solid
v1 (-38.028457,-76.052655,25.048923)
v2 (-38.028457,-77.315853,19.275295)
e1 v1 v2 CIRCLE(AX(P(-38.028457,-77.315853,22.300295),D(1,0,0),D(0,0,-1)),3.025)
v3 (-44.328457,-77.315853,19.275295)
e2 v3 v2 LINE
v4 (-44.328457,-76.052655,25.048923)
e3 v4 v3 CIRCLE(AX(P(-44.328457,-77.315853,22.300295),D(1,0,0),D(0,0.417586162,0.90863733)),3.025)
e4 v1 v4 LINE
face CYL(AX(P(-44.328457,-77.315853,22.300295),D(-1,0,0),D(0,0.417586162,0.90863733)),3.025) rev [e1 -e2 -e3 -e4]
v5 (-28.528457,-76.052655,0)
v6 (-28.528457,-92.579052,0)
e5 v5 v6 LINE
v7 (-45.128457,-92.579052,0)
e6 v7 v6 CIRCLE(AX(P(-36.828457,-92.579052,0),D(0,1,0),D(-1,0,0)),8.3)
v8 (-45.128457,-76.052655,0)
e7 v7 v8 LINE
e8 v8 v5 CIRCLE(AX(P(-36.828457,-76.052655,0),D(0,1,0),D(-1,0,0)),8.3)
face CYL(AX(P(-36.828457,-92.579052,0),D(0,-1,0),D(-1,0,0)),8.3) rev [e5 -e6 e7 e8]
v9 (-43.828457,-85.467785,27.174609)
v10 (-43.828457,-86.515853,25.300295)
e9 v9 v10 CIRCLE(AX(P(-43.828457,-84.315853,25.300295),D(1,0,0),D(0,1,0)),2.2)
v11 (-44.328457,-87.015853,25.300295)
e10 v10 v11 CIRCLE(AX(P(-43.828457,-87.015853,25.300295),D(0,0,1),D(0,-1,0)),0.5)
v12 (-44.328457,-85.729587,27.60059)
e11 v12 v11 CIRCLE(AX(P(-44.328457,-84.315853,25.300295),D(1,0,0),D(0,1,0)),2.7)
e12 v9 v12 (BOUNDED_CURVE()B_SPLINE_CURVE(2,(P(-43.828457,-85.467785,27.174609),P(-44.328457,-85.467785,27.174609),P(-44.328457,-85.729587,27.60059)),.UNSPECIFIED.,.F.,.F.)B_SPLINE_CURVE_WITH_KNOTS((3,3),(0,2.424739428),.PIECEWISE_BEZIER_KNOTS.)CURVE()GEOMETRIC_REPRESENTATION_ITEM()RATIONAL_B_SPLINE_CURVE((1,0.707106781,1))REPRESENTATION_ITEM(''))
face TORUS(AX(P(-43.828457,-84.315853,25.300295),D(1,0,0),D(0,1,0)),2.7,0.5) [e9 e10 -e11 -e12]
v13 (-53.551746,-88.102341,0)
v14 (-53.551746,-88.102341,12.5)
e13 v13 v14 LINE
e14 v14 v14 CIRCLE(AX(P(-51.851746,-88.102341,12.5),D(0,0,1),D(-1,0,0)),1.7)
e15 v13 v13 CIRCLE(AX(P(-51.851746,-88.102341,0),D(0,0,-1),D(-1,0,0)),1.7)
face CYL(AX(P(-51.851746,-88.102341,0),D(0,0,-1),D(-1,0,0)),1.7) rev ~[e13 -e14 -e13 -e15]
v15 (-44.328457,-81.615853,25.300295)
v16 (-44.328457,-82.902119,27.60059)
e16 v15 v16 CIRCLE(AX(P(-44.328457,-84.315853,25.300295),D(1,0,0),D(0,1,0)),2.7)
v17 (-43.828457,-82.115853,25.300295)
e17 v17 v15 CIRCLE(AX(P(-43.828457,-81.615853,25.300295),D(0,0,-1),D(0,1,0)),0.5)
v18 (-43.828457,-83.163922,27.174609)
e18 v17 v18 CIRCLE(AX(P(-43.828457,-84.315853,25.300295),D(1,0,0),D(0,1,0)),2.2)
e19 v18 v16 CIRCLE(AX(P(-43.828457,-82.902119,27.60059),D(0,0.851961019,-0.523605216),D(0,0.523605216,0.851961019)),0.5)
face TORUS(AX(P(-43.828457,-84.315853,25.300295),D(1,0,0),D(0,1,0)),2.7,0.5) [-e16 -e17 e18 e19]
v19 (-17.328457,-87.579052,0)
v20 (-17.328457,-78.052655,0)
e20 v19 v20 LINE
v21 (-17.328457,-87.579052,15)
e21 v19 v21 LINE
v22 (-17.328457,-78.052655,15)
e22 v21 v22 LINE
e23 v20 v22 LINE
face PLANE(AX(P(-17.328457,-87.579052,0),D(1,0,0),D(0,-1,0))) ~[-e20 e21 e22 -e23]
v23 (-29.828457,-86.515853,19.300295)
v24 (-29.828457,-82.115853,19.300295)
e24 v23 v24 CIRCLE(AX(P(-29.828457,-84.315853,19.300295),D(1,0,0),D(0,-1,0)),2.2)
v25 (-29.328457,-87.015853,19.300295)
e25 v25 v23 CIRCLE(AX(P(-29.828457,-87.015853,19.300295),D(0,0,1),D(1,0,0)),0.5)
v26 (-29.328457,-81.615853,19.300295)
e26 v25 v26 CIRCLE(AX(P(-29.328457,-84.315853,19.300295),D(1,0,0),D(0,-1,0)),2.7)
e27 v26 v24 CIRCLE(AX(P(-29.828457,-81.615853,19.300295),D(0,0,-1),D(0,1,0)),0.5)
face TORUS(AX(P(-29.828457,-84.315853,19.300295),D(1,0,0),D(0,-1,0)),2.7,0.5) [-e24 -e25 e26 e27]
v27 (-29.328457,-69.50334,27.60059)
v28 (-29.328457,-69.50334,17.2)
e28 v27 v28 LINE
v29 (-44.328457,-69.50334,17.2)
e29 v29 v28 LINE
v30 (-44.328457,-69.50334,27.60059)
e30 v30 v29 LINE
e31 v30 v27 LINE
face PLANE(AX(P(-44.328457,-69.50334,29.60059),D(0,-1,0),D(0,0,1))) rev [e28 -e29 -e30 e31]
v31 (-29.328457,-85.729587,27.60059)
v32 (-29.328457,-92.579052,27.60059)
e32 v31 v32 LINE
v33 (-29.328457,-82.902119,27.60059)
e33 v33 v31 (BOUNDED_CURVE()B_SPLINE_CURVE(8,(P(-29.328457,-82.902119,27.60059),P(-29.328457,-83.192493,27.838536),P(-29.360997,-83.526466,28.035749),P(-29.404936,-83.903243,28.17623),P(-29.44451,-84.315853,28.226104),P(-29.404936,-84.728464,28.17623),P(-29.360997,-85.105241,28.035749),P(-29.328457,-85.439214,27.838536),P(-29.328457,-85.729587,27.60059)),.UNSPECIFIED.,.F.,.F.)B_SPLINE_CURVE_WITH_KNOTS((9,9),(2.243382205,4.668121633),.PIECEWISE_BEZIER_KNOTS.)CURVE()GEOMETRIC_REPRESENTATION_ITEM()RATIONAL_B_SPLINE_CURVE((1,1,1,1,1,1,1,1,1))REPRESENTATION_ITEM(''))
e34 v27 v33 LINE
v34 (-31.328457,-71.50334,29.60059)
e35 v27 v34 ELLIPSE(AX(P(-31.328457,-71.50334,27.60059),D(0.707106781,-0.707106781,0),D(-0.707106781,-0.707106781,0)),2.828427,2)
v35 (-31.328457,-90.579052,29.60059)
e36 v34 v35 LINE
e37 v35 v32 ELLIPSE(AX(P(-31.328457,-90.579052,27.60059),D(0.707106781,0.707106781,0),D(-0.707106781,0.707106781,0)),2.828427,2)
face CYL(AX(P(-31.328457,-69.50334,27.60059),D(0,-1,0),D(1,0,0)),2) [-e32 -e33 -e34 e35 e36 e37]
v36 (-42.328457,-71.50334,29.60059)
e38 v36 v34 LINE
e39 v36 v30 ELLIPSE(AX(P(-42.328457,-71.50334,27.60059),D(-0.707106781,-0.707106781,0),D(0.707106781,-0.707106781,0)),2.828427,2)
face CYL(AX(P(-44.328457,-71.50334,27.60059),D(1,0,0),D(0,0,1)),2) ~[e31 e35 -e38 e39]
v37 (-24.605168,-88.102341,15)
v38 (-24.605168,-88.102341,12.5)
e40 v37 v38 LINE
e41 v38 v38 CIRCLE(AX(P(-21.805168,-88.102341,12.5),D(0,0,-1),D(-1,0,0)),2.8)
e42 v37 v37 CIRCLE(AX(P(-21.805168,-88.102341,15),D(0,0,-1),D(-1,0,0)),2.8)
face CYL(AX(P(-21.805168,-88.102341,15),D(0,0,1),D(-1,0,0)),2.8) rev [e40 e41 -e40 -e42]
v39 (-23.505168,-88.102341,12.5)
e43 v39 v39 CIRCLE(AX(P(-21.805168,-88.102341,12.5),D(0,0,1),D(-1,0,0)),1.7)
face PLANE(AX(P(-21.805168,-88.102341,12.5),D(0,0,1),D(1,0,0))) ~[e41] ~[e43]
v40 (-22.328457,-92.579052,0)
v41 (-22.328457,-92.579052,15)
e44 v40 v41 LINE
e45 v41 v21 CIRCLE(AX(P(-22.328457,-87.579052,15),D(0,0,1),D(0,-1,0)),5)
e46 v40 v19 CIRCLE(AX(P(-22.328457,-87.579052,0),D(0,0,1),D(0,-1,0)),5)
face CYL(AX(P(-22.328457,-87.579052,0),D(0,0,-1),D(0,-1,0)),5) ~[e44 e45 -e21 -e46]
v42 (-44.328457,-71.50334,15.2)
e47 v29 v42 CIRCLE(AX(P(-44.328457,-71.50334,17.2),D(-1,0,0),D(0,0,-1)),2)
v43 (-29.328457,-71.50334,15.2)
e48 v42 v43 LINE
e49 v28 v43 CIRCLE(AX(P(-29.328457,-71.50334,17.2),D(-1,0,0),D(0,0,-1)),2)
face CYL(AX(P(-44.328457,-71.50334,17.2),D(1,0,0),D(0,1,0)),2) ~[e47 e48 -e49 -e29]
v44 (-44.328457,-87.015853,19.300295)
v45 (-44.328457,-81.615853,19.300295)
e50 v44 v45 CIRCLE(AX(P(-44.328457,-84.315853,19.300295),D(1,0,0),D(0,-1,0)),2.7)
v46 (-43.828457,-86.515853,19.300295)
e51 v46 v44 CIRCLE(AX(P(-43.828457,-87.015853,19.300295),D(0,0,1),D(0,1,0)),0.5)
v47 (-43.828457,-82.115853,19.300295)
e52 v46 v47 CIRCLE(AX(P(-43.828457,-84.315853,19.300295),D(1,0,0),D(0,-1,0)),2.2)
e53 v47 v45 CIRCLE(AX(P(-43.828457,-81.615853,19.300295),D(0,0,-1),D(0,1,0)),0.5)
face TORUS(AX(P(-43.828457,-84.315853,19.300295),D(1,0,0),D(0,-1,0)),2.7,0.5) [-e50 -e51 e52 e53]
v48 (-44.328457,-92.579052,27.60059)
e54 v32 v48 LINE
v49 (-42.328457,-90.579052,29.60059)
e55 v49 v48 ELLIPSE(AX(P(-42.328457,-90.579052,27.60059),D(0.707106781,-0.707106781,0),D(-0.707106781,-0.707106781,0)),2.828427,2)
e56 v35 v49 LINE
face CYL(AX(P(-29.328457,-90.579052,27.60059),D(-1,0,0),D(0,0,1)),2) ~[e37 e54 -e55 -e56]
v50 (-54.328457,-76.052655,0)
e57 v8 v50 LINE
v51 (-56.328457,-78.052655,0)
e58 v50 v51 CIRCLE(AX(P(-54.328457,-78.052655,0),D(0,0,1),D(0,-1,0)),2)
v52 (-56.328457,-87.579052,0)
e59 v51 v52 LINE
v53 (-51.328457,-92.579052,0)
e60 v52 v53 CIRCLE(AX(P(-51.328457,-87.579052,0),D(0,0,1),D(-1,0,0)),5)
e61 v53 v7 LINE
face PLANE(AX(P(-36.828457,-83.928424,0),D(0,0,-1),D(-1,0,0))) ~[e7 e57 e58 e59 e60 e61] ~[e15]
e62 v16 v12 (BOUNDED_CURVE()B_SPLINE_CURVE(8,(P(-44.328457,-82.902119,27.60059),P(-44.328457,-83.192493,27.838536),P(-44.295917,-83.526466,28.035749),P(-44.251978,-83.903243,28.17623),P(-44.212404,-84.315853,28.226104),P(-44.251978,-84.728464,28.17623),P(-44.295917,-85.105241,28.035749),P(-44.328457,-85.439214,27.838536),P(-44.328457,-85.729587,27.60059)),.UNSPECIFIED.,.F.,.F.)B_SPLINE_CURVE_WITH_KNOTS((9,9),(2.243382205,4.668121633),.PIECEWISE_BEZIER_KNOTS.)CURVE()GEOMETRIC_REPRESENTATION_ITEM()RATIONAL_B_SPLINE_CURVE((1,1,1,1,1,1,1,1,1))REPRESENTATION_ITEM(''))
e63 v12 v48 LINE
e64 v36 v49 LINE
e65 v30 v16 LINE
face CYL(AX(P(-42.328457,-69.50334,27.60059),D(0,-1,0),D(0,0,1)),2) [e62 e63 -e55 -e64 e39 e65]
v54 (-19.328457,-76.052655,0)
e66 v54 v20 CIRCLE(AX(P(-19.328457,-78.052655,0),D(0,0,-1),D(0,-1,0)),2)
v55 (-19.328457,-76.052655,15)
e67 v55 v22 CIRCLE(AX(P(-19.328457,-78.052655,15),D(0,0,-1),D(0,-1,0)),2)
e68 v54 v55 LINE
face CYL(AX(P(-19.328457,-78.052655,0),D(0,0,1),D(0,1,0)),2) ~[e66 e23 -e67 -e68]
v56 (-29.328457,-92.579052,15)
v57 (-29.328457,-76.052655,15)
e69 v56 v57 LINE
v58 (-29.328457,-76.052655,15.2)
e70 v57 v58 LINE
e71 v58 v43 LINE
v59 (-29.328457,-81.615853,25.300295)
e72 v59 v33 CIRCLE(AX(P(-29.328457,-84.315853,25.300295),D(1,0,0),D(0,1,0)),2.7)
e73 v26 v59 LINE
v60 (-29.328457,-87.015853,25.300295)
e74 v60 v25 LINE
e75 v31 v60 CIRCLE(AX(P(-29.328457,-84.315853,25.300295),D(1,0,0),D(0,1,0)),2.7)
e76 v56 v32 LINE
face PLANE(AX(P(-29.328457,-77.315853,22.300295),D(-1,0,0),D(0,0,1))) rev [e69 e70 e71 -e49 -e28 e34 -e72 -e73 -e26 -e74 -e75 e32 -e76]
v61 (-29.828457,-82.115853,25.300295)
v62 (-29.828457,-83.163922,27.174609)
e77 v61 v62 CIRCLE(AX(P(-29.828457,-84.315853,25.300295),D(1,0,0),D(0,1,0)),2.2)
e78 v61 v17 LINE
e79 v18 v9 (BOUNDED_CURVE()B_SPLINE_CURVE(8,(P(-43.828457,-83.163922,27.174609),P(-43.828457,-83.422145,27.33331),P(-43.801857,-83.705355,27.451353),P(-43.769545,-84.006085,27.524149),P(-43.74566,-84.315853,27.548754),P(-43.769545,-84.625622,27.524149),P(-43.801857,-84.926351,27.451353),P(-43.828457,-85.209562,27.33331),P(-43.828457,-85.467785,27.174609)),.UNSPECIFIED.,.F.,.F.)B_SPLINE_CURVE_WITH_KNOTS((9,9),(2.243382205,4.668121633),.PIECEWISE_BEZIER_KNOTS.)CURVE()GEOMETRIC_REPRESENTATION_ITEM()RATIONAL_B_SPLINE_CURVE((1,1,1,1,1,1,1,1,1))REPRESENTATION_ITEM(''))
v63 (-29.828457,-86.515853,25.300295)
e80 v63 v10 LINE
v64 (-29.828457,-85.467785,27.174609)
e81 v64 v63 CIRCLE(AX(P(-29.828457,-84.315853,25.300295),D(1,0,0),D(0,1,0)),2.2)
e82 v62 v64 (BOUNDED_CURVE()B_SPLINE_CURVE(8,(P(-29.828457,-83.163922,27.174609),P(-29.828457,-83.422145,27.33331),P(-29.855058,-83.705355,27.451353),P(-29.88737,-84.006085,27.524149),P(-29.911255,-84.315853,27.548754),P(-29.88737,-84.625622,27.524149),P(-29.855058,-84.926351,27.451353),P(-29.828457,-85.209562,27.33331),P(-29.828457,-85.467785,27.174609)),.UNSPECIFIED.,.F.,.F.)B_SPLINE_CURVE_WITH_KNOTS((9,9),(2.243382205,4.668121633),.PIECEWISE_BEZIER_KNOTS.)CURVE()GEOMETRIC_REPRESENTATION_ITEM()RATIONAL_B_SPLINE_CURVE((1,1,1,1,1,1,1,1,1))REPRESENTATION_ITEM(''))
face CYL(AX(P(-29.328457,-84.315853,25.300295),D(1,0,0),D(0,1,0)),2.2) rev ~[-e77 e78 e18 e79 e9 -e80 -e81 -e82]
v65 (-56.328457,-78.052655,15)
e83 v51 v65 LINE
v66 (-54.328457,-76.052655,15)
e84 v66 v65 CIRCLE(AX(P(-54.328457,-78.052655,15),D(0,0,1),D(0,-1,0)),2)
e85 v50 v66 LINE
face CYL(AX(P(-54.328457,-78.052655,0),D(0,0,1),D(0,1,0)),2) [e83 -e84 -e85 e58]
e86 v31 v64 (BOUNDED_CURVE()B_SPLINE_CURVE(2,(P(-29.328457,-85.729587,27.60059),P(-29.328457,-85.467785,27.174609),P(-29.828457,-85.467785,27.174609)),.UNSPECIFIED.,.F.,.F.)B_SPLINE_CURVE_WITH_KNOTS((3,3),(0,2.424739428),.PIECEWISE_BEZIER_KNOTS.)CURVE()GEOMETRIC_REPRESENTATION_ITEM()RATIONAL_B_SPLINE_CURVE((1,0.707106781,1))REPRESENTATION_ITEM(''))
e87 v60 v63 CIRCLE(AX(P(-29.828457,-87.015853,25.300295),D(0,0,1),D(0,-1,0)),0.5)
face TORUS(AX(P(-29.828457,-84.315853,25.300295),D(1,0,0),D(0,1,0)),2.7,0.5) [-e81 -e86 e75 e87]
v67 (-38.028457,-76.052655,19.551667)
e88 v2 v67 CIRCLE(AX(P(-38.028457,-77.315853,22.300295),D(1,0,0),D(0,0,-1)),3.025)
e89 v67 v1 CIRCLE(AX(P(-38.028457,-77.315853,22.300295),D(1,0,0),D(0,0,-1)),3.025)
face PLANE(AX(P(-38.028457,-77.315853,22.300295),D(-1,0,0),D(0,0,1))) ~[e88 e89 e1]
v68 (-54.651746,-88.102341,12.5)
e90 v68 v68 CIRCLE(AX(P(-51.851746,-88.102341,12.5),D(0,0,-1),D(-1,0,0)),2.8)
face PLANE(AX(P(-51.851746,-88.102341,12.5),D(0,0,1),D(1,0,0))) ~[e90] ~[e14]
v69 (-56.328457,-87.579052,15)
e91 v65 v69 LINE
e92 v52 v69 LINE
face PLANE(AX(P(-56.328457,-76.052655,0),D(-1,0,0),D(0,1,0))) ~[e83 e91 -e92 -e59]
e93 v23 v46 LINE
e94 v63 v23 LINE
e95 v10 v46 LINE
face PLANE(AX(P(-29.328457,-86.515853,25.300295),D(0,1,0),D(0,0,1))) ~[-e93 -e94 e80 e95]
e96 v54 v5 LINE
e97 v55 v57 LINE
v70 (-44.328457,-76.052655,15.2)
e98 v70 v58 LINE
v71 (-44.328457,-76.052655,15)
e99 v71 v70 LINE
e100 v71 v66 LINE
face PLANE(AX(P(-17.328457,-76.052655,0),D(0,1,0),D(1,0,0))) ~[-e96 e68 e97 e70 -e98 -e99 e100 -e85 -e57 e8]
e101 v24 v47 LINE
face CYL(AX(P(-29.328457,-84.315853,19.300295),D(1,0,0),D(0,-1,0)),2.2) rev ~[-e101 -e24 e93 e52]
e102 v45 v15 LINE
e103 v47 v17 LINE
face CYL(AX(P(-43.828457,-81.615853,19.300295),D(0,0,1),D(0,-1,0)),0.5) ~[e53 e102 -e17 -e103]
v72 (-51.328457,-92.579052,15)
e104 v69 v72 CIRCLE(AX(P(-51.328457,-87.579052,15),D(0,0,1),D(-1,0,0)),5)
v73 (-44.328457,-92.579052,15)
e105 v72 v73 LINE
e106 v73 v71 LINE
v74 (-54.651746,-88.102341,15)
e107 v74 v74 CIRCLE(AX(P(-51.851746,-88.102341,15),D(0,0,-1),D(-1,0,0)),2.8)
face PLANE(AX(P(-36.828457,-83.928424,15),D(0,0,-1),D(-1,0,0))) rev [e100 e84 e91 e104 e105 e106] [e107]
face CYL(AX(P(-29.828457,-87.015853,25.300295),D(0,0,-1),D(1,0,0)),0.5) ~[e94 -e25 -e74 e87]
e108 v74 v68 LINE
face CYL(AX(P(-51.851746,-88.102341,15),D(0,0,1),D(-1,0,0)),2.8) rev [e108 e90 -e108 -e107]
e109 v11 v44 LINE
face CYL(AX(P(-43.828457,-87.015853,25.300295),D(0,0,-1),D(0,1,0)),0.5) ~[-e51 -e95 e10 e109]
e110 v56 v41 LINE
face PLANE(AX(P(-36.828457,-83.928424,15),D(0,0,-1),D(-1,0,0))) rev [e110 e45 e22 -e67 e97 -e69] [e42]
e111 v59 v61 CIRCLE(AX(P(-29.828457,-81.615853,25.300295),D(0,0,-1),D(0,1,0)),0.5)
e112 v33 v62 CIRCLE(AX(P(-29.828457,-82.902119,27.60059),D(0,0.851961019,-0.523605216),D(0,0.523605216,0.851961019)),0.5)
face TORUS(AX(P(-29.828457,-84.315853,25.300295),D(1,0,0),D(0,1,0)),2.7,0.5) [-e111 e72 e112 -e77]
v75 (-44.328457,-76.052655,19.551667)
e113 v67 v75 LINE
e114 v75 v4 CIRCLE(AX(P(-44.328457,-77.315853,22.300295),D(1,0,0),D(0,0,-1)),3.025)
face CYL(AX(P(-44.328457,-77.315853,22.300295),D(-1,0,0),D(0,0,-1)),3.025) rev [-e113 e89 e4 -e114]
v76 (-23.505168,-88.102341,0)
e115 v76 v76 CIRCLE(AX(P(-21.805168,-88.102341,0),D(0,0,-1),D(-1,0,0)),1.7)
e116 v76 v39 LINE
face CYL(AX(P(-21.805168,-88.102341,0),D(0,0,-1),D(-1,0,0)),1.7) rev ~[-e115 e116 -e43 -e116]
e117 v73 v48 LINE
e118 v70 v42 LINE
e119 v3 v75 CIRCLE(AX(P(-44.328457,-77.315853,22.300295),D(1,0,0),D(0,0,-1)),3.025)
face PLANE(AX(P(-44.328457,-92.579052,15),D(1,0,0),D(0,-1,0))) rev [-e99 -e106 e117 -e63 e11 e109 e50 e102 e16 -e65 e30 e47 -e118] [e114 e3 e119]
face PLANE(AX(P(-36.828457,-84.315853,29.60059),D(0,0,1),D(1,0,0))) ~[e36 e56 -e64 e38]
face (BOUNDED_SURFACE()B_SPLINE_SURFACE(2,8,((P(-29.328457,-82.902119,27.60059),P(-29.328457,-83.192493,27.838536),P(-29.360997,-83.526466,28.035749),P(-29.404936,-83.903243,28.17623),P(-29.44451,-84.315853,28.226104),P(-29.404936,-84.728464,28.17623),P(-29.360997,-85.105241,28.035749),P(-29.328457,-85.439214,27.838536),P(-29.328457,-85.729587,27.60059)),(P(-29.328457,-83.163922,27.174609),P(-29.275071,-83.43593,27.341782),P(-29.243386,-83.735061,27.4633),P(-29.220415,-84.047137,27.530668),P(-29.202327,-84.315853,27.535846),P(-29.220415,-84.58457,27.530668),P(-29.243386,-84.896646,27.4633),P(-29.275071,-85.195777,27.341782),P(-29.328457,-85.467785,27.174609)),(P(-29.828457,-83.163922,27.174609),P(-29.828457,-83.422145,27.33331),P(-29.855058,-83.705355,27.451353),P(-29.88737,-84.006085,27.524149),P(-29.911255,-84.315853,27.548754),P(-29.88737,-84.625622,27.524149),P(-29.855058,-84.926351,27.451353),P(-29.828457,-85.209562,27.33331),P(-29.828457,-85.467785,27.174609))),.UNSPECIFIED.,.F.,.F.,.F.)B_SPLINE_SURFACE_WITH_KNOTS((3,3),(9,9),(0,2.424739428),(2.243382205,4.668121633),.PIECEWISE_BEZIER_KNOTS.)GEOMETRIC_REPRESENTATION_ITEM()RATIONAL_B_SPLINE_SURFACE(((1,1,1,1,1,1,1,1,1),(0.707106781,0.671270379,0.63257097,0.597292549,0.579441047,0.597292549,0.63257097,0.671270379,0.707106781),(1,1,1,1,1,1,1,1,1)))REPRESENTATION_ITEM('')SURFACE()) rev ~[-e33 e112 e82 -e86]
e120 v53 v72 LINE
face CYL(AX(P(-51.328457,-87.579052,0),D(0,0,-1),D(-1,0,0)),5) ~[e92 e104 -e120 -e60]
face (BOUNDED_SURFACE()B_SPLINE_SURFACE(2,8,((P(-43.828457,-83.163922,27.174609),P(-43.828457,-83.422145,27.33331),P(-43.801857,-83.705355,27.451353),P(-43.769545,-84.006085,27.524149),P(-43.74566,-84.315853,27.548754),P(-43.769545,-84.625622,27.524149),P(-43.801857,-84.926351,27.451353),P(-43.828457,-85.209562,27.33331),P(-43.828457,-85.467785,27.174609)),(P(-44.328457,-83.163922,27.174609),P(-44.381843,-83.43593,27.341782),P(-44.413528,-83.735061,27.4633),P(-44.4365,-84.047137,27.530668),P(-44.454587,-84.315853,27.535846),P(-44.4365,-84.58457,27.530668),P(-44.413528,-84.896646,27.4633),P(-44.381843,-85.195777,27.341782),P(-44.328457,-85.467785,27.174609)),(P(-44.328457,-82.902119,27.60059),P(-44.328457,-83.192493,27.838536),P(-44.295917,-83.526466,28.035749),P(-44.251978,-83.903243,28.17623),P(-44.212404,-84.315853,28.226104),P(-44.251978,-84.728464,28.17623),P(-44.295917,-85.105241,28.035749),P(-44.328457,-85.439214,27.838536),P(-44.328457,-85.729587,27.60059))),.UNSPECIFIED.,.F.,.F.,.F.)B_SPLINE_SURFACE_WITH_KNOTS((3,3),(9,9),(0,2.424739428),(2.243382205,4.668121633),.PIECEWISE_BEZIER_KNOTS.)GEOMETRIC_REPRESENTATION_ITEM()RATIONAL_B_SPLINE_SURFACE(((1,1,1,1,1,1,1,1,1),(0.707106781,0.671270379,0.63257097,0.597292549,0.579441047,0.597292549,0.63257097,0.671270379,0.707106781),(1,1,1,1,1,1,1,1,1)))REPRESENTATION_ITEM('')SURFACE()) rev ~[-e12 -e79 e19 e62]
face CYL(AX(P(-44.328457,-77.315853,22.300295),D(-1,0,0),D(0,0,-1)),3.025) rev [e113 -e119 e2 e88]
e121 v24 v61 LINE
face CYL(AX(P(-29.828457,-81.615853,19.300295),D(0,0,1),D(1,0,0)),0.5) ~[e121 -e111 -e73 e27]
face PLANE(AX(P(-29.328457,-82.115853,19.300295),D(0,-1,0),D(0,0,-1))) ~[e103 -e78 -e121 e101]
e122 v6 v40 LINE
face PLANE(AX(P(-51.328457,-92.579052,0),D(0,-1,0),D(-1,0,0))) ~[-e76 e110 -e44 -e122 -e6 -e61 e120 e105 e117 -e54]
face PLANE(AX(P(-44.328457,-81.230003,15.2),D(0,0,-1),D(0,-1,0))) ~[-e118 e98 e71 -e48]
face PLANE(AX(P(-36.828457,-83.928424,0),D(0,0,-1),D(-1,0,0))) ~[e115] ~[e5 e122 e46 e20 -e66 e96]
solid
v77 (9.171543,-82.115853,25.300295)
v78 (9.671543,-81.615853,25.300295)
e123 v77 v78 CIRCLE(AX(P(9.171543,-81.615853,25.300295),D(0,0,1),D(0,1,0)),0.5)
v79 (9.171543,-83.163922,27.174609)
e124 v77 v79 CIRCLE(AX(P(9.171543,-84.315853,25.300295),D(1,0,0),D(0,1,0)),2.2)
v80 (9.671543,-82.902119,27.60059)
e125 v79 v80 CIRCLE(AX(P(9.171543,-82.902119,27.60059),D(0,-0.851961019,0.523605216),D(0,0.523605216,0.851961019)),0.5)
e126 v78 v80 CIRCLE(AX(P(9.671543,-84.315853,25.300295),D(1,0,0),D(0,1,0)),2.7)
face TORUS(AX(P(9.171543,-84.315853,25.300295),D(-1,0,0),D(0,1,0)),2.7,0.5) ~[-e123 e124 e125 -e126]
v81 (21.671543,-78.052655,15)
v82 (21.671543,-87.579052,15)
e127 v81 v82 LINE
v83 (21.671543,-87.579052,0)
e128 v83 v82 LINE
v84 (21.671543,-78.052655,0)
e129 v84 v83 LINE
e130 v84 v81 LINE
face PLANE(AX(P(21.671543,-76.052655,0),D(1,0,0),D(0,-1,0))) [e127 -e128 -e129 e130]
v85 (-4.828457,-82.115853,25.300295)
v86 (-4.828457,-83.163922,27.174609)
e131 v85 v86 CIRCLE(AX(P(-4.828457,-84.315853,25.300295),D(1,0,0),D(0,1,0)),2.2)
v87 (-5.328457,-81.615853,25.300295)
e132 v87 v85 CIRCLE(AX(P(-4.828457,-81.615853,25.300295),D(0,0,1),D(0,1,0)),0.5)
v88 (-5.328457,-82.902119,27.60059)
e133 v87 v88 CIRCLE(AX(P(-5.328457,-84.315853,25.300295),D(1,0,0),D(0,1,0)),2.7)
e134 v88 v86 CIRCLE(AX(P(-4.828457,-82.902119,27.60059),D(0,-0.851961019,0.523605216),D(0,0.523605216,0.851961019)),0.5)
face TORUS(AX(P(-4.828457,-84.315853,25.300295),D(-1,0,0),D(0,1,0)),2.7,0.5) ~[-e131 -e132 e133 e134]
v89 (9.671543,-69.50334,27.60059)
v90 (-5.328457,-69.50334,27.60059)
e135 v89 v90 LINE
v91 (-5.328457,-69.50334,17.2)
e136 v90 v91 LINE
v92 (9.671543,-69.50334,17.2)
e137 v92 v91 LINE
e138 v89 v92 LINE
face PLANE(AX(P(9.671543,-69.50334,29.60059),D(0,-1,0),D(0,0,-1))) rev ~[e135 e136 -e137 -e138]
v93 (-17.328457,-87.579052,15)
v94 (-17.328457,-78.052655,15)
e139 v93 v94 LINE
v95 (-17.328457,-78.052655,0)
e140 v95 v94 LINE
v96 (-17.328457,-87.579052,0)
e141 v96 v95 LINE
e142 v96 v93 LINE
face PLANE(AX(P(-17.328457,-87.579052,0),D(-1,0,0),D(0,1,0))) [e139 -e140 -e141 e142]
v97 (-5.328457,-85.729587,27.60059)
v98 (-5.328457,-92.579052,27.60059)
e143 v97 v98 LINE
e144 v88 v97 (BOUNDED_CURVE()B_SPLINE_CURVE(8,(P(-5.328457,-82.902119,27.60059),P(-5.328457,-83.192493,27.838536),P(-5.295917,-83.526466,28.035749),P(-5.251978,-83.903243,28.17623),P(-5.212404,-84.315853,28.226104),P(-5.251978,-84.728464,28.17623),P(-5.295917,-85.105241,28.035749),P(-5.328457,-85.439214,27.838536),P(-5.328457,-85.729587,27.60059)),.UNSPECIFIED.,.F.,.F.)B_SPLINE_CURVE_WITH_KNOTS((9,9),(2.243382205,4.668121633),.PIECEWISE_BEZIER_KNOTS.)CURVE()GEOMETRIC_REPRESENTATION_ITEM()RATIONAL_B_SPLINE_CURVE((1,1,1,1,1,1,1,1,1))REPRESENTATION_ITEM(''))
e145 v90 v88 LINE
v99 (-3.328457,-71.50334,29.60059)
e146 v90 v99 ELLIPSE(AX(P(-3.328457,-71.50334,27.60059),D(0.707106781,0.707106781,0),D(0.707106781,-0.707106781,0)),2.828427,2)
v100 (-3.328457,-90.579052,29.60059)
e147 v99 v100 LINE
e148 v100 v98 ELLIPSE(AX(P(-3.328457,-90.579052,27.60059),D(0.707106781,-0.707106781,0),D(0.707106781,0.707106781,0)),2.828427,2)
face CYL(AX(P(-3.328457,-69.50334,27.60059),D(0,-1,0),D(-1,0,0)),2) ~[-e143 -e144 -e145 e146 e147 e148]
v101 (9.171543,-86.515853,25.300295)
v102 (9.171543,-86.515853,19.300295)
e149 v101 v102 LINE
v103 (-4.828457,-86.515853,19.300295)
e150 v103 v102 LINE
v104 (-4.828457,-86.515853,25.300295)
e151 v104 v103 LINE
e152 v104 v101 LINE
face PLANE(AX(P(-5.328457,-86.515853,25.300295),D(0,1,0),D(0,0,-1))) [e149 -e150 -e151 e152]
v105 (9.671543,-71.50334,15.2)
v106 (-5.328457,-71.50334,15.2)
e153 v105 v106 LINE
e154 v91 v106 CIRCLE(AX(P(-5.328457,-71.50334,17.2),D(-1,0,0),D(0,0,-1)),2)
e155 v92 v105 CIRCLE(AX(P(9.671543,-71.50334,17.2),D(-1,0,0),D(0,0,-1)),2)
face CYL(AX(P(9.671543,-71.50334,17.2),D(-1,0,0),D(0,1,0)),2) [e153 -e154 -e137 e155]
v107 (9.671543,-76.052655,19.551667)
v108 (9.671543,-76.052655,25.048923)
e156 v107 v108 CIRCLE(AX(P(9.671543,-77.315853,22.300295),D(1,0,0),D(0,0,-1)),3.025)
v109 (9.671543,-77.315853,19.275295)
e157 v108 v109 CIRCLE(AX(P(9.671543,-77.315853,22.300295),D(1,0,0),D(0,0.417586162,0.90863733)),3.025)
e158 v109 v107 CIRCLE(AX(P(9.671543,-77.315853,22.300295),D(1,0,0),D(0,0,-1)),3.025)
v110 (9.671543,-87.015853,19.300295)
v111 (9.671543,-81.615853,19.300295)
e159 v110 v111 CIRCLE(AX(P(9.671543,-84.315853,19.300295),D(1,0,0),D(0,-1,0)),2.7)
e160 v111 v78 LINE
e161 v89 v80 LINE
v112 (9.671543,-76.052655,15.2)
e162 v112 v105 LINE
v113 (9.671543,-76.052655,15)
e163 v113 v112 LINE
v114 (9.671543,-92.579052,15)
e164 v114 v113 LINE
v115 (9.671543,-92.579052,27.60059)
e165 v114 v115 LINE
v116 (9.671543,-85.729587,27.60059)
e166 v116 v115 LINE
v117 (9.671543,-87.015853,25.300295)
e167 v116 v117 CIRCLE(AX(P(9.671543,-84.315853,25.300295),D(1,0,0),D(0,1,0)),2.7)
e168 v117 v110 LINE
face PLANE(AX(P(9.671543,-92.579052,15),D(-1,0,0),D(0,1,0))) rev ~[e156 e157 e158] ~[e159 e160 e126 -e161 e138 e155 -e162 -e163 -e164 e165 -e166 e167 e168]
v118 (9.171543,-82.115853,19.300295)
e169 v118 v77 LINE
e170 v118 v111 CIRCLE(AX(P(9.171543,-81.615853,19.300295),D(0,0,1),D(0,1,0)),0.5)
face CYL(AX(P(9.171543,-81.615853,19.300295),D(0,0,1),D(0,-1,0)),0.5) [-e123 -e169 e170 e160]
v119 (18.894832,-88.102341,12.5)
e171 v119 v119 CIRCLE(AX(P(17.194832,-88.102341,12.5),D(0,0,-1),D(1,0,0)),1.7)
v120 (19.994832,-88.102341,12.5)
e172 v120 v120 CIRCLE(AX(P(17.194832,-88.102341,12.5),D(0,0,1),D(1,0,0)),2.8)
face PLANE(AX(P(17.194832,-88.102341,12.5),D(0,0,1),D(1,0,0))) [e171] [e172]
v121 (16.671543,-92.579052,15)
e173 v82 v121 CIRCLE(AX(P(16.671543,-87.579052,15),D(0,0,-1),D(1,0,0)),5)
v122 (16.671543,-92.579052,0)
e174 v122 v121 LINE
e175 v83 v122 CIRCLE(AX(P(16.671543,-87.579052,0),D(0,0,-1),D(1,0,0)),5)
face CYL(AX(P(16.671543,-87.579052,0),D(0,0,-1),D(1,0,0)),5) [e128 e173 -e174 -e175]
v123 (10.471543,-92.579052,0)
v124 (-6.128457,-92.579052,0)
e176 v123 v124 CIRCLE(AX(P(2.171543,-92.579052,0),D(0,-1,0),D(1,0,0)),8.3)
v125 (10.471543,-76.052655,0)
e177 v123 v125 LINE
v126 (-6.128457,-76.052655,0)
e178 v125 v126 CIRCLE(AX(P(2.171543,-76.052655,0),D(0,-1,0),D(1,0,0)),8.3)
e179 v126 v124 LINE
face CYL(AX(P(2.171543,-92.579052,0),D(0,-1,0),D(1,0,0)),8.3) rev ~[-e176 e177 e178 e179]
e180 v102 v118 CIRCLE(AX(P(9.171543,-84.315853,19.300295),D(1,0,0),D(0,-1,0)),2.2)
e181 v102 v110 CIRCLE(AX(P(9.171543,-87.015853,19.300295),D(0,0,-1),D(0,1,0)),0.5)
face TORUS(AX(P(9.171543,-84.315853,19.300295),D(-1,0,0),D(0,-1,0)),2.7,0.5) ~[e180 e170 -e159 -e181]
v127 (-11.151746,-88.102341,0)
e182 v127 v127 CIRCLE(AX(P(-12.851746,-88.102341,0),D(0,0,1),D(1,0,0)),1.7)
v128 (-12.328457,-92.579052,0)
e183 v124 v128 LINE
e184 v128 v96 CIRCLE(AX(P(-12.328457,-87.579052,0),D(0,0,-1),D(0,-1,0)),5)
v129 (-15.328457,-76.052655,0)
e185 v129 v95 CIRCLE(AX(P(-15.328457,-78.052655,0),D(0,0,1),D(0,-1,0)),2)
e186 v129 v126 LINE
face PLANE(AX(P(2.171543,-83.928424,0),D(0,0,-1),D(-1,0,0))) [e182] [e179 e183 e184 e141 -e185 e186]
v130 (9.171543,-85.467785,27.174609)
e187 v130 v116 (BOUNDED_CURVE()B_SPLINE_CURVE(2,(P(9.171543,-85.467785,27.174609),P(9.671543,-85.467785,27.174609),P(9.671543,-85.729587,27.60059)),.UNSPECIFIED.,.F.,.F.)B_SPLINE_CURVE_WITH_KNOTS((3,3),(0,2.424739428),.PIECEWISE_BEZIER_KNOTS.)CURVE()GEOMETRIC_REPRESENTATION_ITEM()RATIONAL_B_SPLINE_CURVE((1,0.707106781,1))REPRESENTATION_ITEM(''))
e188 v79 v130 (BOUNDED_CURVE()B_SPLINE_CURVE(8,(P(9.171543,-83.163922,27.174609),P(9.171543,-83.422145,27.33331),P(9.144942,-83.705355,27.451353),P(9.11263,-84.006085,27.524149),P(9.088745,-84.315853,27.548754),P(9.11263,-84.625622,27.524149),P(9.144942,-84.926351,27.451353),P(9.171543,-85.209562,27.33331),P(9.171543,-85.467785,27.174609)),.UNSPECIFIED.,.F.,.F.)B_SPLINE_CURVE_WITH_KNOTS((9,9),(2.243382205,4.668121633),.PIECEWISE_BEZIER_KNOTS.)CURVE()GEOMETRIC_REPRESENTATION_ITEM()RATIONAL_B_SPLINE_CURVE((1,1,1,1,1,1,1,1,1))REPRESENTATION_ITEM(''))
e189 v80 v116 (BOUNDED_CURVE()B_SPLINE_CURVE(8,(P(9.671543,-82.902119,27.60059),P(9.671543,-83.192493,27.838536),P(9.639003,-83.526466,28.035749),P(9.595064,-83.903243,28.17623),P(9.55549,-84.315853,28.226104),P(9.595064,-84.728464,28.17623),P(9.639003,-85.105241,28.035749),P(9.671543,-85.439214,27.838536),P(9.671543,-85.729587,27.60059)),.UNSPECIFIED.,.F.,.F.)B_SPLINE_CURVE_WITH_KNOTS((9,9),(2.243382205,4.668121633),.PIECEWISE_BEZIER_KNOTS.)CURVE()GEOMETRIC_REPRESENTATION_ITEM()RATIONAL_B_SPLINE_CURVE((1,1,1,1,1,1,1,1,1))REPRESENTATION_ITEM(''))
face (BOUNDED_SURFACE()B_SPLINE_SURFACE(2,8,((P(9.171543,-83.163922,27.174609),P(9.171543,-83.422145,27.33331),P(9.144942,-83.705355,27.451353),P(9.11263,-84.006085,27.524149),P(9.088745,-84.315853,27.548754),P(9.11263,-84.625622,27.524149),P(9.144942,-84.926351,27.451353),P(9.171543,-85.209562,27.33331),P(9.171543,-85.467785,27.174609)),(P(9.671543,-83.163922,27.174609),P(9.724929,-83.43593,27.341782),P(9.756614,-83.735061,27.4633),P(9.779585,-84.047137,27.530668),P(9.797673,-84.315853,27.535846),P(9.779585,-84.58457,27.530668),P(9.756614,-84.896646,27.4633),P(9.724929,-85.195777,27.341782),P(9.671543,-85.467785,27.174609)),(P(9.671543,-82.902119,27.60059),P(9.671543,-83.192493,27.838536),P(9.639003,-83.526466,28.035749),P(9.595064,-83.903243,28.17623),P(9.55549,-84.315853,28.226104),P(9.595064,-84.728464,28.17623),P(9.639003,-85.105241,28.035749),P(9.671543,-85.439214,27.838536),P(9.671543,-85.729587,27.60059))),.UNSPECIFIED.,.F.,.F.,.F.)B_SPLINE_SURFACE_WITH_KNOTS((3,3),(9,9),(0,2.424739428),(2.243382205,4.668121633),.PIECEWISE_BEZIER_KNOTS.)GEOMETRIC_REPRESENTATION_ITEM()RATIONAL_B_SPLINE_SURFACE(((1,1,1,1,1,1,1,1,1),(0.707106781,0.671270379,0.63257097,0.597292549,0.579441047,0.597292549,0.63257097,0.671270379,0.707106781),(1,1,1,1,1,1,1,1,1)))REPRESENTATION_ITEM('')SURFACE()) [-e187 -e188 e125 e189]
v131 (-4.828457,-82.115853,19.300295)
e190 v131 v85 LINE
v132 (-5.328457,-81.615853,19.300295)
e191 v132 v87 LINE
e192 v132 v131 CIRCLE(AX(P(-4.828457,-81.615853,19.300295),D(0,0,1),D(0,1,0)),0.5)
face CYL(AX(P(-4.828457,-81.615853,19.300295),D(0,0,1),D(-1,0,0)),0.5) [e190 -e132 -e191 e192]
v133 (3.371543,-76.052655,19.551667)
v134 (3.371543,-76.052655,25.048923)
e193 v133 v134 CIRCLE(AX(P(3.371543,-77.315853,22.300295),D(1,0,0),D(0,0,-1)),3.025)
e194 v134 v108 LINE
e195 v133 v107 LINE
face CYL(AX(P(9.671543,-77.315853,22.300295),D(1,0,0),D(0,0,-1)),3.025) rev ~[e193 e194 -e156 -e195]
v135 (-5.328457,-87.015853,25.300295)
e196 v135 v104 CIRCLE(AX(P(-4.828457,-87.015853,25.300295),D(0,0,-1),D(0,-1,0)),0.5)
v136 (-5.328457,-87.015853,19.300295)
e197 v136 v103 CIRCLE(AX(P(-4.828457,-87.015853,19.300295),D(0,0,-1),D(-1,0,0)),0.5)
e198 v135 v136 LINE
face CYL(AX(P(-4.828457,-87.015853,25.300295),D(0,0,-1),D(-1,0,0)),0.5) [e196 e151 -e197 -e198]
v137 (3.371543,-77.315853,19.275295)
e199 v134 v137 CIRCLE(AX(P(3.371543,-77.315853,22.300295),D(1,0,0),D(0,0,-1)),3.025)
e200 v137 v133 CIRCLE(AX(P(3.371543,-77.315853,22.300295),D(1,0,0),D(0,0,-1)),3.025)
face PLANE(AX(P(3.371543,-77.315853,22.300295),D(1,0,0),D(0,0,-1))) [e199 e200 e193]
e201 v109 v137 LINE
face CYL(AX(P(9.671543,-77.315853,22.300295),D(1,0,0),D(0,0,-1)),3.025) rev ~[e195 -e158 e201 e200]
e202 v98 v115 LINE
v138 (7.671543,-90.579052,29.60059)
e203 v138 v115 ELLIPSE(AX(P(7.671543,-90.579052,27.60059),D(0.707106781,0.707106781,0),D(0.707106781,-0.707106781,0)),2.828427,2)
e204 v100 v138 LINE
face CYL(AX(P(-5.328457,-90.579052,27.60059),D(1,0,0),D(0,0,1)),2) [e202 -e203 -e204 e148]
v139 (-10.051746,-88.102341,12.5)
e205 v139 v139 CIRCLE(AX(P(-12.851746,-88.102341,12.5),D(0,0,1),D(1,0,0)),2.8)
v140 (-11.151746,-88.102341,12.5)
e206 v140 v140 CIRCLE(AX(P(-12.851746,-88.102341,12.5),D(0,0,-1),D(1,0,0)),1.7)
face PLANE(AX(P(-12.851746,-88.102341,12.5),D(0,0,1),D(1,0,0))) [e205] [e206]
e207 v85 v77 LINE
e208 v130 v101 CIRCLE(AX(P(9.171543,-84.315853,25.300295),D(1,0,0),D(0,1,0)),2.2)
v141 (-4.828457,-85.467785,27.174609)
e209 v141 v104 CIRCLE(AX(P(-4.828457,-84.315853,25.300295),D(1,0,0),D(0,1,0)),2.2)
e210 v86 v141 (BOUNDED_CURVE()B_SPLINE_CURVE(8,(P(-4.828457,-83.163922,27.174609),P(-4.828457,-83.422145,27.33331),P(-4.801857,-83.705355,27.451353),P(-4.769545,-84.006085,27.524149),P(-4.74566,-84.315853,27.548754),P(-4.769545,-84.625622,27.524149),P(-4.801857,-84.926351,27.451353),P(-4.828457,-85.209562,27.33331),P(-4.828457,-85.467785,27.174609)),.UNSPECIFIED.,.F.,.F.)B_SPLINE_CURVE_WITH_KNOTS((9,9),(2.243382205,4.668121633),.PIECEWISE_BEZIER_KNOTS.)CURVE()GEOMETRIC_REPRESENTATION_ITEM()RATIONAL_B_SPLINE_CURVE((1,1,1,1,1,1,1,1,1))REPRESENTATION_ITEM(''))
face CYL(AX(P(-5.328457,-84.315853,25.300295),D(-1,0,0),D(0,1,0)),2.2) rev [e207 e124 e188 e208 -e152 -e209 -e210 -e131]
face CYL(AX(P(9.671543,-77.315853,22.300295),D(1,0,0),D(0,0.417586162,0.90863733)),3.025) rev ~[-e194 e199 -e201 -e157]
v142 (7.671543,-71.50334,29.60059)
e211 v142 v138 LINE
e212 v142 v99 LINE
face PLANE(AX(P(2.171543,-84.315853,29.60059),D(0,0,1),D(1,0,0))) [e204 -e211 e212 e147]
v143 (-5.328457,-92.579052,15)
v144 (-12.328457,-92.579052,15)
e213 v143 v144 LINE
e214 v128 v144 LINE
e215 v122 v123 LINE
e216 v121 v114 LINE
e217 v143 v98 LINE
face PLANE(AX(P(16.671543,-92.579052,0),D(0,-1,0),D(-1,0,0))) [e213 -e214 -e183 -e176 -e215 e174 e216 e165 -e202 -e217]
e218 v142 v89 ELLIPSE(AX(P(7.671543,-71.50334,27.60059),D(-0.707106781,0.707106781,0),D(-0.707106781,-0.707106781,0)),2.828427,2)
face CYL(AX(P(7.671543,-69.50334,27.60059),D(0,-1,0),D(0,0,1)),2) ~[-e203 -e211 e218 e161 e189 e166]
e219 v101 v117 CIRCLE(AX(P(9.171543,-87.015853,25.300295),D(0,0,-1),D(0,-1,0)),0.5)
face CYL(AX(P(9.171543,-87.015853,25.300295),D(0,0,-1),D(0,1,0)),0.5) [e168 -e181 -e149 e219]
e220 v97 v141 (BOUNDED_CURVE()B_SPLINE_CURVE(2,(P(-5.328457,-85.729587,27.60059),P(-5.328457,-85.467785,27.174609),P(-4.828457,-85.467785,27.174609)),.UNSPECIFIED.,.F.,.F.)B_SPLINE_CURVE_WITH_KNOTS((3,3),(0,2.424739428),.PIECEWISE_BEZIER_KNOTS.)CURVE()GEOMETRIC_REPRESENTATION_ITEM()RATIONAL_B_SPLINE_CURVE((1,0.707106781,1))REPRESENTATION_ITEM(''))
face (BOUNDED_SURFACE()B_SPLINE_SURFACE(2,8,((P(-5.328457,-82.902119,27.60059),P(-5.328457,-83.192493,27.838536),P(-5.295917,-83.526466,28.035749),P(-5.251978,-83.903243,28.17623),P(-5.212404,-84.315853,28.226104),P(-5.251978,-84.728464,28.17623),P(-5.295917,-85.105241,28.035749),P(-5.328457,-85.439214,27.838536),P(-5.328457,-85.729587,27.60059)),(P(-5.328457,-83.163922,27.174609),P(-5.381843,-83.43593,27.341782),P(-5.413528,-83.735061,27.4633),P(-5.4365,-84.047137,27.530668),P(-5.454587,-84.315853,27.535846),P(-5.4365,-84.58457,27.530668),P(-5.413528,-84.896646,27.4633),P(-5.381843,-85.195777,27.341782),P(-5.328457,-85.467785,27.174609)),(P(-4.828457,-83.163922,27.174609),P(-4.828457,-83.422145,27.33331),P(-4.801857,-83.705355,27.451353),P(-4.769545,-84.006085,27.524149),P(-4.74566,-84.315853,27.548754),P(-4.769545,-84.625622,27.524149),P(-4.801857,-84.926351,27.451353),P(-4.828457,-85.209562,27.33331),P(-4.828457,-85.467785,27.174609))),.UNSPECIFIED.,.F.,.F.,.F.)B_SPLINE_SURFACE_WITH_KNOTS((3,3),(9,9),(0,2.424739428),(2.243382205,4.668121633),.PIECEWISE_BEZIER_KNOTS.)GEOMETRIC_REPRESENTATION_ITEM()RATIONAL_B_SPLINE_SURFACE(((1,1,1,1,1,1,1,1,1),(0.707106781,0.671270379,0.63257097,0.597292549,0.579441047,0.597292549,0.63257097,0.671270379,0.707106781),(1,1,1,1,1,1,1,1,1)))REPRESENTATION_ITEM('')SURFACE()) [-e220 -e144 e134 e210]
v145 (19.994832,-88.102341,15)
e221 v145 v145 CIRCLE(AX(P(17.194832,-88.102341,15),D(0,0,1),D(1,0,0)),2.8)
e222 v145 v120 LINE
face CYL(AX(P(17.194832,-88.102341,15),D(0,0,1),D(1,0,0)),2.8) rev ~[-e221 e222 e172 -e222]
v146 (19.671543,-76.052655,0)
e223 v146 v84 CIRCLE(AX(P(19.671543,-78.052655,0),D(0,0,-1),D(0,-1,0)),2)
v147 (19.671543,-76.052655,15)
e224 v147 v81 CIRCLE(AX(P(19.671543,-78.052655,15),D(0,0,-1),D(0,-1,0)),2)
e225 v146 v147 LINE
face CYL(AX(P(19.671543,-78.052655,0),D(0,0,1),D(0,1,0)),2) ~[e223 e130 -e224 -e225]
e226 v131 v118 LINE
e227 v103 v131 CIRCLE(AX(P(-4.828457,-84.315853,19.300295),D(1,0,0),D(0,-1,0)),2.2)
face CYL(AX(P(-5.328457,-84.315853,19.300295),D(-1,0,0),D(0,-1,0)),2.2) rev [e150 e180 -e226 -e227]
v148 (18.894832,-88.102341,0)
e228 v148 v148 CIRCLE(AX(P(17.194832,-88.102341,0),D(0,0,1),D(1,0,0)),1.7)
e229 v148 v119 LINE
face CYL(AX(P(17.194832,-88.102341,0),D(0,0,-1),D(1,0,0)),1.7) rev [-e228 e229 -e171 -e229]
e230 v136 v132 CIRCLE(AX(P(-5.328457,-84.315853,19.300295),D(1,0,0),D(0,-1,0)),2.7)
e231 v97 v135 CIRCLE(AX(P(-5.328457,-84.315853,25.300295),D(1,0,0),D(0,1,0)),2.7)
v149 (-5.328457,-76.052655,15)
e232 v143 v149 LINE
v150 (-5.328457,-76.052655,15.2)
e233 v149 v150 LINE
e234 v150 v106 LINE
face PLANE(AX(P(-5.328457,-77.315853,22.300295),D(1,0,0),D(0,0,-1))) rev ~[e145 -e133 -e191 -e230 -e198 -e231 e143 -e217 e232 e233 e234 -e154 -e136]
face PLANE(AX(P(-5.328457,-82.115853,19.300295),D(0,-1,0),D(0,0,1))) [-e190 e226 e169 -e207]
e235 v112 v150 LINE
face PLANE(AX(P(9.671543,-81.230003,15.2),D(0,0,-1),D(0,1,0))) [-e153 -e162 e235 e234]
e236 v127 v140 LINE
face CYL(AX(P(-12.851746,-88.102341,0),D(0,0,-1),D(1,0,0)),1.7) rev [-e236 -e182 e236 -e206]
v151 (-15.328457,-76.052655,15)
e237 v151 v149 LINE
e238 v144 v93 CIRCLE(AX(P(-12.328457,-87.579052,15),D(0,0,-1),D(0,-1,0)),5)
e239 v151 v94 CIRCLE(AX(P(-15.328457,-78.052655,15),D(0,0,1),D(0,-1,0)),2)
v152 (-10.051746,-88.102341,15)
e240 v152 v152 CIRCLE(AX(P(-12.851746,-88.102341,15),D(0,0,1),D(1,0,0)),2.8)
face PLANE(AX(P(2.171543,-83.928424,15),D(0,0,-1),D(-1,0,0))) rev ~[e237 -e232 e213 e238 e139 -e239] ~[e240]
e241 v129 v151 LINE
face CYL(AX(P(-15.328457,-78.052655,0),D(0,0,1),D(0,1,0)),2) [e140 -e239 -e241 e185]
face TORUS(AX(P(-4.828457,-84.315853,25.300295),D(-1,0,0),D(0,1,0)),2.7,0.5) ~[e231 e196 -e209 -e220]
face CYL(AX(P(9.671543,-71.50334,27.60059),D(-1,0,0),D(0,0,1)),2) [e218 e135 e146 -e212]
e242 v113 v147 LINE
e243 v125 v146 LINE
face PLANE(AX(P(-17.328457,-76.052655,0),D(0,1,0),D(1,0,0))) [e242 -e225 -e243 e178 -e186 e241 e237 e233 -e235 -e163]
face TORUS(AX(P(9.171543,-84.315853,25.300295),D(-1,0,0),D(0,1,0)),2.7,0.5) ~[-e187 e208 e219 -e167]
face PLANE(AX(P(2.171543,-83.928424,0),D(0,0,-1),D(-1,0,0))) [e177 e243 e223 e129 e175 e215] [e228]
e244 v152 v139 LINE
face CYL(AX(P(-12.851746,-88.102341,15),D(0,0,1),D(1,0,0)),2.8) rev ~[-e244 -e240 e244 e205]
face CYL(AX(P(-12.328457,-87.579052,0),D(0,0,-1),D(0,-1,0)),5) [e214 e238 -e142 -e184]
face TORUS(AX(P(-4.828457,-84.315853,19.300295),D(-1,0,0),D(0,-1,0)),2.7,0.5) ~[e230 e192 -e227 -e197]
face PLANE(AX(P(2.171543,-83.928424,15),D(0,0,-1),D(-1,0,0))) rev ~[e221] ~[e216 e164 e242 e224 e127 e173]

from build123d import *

# Parameters (mm, degrees)
SKETCH1_R           = 1.7
BOSS_EXTRUDE1_DEPTH = 15
SKETCH4_R           = 8.3
CUT_EXTRUDE1_DEPTH  = 16.52639628
SKETCH5_W           = 15
SKETCH5_H           = 16.52639628
BOSS_EXTRUDE2_DEPTH = 14.600589502
CUT_EXTRUDE2_DEPTH  = 15
SKETCH7_R           = 2.8
CUT_EXTRUDE3_DEPTH  = 2.5
SKETCH11_W          = 14.400589502
SKETCH11_H          = 11.726663515
SKETCH11_R          = 3.025
BOSS_EXTRUDE3_DEPTH = 15
CUT_EXTRUDE4_DEPTH  = 28
BOSS_EXTRUDE4_START = -15
SKETCH11_3_R        = 3.025
BOSS_EXTRUDE4_DEPTH = 8.7
FILLET1_R           = 2
FILLET2_R           = 0.5


with BuildPart() as part:
    # Sketch1 → Boss-Extrude1 (new body)
    with BuildSketch(Plane.XY):
        with BuildLine():
            Line((-17.328457201, -87.57905153), (-17.328457201, -76.05265525))
            Line((-17.328457201, -76.05265525), (21.671542799, -76.05265525))
            Line((21.671542799, -76.05265525), (21.671542799, -87.57905153))
            ThreePointArc((21.671542799, -87.57905153), (20.207076704, -91.114585436), (16.671542799, -92.57905153))
            Line((16.671542799, -92.57905153), (-12.328457201, -92.57905153))
            ThreePointArc((-12.328457201, -92.57905153), (-15.863991107, -91.114585436), (-17.328457201, -87.57905153))
        make_face()
        with Locations((-12.851746326, -88.102340655)):
            Circle(SKETCH1_R, mode=Mode.SUBTRACT)
        with Locations((17.194831923, -88.102340655)):
            Circle(SKETCH1_R, mode=Mode.SUBTRACT)
    extrude(amount=BOSS_EXTRUDE1_DEPTH)

    # Sketch4 → Cut-Extrude1 (cut)
    with BuildSketch(Plane.XZ.offset(92.57905153)):
        with Locations((2.171542799, 0)):
            Circle(SKETCH4_R)
    extrude(amount=-CUT_EXTRUDE1_DEPTH, mode=Mode.SUBTRACT)

    # Sketch5 → Boss-Extrude2 (add)
    with BuildSketch(Plane.XY.offset(15)):
        with Locations((2.171542799, -84.31585339)):
            Rectangle(SKETCH5_W, SKETCH5_H)
    extrude(amount=BOSS_EXTRUDE2_DEPTH)

    # Sketch6 → Cut-Extrude2 (cut)
    with BuildSketch(Plane.ZY.offset(5.328457201)):
        with BuildLine():
            Line((25.300294751, -86.51585339), (19.300294751, -86.51585339))
            ThreePointArc((19.300294751, -86.51585339), (17.100294751, -84.31585339), (19.300294751, -82.11585339))
            Line((19.300294751, -82.11585339), (25.300294751, -82.11585339))
            ThreePointArc((25.300294751, -82.11585339), (27.500294751, -84.31585339), (25.300294751, -86.51585339))
        make_face()
    extrude(amount=-CUT_EXTRUDE2_DEPTH, mode=Mode.SUBTRACT)

    # Sketch7 → Cut-Extrude3 (cut)
    with BuildSketch(Plane.XY.offset(15)):
        with Locations((17.194831923, -88.102340655)):
            Circle(SKETCH7_R)
        with Locations((-12.851746326, -88.102340655)):
            Circle(SKETCH7_R)
    extrude(amount=-CUT_EXTRUDE3_DEPTH, mode=Mode.SUBTRACT)

    # Sketch11 → Boss-Extrude3 (add)
    with BuildSketch(Plane(origin=(9.671542799, 0, 0), x_dir=(0, 0, -1), z_dir=(1, 0, 0))):
        with Locations((-22.400294751, -75.36667169)):
            Rectangle(SKETCH11_W, SKETCH11_H)
        with Locations((-22.300294751, -77.31585339)):
            Circle(SKETCH11_R, mode=Mode.SUBTRACT)
    extrude(amount=-BOSS_EXTRUDE3_DEPTH)

    # Sketch11<2> → Cut-Extrude4 (cut)
    with BuildSketch(Plane(origin=(9.671542799, 0, 0), x_dir=(0, 0, -1), z_dir=(1, 0, 0))):
        with BuildLine():
            Line((-25.048922674, -76.05265525), (-19.551666828, -76.05265525))
            ThreePointArc((-19.551666828, -76.05265525), (-22.300294751, -74.29085339), (-25.048922674, -76.05265525))
        make_face()
        with BuildLine():
            ThreePointArc((-19.275294751, -77.31585339), (-19.34519539, -76.669314322), (-19.551666828, -76.05265525))
            Line((-19.551666828, -76.05265525), (-25.048922674, -76.05265525))
            ThreePointArc((-25.048922674, -76.05265525), (-22.946833819, -80.270952751), (-19.275294751, -77.31585339))
        make_face()
    extrude(amount=-CUT_EXTRUDE4_DEPTH, mode=Mode.SUBTRACT)

    # Sketch11<3> → Boss-Extrude4 (add)
    with BuildSketch(Plane(origin=(9.671542799, 0, 0), x_dir=(0, 0, -1), z_dir=(1, 0, 0)).offset(BOSS_EXTRUDE4_START)):
        with Locations((-22.300294751, -77.31585339)):
            Circle(SKETCH11_3_R)
    extrude(amount=BOSS_EXTRUDE4_DEPTH)

    # Fillet1
    fillet1_edges = [part.edges().sort_by_distance(p)[0] for p in [
        (-17.328457201, -76.05265525, 7.5),
        (21.671542799, -76.05265525, 7.5),
        (2.171542799, -92.57905153, 29.600589502),
        (-5.328457201, -84.31585339, 29.600589502),
        (9.671542799, -84.31585339, 29.600589502),
        (2.171542799, -69.503339933, 15.2),
        (2.171542799, -69.503339933, 29.600589502),
    ]]
    fillet(fillet1_edges, radius=FILLET1_R)

    # Fillet2
    fillet2_edges = [part.edges().sort_by_distance(p)[0] for p in [
        (-5.328457201, -84.31585339, 27.500294751),
        (-5.328457201, -82.11585339, 22.300294751),
        (-5.328457201, -84.31585339, 17.100294751),
        (-5.328457201, -86.51585339, 22.300294751),
        (9.671542799, -84.31585339, 27.500294751),
        (9.671542799, -86.51585339, 22.300294751),
        (9.671542799, -84.31585339, 17.100294751),
        (9.671542799, -82.11585339, 22.300294751),
    ]]
    fillet(fillet2_edges, radius=FILLET2_R)


with BuildPart() as body_2:
    # Mirror1: mirrored copy
    add(part.part.mirror(Plane(origin=(-17.328457201, -87.57905153, 15), x_dir=(0, 0, 1), z_dir=(1, 0, 0))))


solid = Compound([part.part, body_2.part])
